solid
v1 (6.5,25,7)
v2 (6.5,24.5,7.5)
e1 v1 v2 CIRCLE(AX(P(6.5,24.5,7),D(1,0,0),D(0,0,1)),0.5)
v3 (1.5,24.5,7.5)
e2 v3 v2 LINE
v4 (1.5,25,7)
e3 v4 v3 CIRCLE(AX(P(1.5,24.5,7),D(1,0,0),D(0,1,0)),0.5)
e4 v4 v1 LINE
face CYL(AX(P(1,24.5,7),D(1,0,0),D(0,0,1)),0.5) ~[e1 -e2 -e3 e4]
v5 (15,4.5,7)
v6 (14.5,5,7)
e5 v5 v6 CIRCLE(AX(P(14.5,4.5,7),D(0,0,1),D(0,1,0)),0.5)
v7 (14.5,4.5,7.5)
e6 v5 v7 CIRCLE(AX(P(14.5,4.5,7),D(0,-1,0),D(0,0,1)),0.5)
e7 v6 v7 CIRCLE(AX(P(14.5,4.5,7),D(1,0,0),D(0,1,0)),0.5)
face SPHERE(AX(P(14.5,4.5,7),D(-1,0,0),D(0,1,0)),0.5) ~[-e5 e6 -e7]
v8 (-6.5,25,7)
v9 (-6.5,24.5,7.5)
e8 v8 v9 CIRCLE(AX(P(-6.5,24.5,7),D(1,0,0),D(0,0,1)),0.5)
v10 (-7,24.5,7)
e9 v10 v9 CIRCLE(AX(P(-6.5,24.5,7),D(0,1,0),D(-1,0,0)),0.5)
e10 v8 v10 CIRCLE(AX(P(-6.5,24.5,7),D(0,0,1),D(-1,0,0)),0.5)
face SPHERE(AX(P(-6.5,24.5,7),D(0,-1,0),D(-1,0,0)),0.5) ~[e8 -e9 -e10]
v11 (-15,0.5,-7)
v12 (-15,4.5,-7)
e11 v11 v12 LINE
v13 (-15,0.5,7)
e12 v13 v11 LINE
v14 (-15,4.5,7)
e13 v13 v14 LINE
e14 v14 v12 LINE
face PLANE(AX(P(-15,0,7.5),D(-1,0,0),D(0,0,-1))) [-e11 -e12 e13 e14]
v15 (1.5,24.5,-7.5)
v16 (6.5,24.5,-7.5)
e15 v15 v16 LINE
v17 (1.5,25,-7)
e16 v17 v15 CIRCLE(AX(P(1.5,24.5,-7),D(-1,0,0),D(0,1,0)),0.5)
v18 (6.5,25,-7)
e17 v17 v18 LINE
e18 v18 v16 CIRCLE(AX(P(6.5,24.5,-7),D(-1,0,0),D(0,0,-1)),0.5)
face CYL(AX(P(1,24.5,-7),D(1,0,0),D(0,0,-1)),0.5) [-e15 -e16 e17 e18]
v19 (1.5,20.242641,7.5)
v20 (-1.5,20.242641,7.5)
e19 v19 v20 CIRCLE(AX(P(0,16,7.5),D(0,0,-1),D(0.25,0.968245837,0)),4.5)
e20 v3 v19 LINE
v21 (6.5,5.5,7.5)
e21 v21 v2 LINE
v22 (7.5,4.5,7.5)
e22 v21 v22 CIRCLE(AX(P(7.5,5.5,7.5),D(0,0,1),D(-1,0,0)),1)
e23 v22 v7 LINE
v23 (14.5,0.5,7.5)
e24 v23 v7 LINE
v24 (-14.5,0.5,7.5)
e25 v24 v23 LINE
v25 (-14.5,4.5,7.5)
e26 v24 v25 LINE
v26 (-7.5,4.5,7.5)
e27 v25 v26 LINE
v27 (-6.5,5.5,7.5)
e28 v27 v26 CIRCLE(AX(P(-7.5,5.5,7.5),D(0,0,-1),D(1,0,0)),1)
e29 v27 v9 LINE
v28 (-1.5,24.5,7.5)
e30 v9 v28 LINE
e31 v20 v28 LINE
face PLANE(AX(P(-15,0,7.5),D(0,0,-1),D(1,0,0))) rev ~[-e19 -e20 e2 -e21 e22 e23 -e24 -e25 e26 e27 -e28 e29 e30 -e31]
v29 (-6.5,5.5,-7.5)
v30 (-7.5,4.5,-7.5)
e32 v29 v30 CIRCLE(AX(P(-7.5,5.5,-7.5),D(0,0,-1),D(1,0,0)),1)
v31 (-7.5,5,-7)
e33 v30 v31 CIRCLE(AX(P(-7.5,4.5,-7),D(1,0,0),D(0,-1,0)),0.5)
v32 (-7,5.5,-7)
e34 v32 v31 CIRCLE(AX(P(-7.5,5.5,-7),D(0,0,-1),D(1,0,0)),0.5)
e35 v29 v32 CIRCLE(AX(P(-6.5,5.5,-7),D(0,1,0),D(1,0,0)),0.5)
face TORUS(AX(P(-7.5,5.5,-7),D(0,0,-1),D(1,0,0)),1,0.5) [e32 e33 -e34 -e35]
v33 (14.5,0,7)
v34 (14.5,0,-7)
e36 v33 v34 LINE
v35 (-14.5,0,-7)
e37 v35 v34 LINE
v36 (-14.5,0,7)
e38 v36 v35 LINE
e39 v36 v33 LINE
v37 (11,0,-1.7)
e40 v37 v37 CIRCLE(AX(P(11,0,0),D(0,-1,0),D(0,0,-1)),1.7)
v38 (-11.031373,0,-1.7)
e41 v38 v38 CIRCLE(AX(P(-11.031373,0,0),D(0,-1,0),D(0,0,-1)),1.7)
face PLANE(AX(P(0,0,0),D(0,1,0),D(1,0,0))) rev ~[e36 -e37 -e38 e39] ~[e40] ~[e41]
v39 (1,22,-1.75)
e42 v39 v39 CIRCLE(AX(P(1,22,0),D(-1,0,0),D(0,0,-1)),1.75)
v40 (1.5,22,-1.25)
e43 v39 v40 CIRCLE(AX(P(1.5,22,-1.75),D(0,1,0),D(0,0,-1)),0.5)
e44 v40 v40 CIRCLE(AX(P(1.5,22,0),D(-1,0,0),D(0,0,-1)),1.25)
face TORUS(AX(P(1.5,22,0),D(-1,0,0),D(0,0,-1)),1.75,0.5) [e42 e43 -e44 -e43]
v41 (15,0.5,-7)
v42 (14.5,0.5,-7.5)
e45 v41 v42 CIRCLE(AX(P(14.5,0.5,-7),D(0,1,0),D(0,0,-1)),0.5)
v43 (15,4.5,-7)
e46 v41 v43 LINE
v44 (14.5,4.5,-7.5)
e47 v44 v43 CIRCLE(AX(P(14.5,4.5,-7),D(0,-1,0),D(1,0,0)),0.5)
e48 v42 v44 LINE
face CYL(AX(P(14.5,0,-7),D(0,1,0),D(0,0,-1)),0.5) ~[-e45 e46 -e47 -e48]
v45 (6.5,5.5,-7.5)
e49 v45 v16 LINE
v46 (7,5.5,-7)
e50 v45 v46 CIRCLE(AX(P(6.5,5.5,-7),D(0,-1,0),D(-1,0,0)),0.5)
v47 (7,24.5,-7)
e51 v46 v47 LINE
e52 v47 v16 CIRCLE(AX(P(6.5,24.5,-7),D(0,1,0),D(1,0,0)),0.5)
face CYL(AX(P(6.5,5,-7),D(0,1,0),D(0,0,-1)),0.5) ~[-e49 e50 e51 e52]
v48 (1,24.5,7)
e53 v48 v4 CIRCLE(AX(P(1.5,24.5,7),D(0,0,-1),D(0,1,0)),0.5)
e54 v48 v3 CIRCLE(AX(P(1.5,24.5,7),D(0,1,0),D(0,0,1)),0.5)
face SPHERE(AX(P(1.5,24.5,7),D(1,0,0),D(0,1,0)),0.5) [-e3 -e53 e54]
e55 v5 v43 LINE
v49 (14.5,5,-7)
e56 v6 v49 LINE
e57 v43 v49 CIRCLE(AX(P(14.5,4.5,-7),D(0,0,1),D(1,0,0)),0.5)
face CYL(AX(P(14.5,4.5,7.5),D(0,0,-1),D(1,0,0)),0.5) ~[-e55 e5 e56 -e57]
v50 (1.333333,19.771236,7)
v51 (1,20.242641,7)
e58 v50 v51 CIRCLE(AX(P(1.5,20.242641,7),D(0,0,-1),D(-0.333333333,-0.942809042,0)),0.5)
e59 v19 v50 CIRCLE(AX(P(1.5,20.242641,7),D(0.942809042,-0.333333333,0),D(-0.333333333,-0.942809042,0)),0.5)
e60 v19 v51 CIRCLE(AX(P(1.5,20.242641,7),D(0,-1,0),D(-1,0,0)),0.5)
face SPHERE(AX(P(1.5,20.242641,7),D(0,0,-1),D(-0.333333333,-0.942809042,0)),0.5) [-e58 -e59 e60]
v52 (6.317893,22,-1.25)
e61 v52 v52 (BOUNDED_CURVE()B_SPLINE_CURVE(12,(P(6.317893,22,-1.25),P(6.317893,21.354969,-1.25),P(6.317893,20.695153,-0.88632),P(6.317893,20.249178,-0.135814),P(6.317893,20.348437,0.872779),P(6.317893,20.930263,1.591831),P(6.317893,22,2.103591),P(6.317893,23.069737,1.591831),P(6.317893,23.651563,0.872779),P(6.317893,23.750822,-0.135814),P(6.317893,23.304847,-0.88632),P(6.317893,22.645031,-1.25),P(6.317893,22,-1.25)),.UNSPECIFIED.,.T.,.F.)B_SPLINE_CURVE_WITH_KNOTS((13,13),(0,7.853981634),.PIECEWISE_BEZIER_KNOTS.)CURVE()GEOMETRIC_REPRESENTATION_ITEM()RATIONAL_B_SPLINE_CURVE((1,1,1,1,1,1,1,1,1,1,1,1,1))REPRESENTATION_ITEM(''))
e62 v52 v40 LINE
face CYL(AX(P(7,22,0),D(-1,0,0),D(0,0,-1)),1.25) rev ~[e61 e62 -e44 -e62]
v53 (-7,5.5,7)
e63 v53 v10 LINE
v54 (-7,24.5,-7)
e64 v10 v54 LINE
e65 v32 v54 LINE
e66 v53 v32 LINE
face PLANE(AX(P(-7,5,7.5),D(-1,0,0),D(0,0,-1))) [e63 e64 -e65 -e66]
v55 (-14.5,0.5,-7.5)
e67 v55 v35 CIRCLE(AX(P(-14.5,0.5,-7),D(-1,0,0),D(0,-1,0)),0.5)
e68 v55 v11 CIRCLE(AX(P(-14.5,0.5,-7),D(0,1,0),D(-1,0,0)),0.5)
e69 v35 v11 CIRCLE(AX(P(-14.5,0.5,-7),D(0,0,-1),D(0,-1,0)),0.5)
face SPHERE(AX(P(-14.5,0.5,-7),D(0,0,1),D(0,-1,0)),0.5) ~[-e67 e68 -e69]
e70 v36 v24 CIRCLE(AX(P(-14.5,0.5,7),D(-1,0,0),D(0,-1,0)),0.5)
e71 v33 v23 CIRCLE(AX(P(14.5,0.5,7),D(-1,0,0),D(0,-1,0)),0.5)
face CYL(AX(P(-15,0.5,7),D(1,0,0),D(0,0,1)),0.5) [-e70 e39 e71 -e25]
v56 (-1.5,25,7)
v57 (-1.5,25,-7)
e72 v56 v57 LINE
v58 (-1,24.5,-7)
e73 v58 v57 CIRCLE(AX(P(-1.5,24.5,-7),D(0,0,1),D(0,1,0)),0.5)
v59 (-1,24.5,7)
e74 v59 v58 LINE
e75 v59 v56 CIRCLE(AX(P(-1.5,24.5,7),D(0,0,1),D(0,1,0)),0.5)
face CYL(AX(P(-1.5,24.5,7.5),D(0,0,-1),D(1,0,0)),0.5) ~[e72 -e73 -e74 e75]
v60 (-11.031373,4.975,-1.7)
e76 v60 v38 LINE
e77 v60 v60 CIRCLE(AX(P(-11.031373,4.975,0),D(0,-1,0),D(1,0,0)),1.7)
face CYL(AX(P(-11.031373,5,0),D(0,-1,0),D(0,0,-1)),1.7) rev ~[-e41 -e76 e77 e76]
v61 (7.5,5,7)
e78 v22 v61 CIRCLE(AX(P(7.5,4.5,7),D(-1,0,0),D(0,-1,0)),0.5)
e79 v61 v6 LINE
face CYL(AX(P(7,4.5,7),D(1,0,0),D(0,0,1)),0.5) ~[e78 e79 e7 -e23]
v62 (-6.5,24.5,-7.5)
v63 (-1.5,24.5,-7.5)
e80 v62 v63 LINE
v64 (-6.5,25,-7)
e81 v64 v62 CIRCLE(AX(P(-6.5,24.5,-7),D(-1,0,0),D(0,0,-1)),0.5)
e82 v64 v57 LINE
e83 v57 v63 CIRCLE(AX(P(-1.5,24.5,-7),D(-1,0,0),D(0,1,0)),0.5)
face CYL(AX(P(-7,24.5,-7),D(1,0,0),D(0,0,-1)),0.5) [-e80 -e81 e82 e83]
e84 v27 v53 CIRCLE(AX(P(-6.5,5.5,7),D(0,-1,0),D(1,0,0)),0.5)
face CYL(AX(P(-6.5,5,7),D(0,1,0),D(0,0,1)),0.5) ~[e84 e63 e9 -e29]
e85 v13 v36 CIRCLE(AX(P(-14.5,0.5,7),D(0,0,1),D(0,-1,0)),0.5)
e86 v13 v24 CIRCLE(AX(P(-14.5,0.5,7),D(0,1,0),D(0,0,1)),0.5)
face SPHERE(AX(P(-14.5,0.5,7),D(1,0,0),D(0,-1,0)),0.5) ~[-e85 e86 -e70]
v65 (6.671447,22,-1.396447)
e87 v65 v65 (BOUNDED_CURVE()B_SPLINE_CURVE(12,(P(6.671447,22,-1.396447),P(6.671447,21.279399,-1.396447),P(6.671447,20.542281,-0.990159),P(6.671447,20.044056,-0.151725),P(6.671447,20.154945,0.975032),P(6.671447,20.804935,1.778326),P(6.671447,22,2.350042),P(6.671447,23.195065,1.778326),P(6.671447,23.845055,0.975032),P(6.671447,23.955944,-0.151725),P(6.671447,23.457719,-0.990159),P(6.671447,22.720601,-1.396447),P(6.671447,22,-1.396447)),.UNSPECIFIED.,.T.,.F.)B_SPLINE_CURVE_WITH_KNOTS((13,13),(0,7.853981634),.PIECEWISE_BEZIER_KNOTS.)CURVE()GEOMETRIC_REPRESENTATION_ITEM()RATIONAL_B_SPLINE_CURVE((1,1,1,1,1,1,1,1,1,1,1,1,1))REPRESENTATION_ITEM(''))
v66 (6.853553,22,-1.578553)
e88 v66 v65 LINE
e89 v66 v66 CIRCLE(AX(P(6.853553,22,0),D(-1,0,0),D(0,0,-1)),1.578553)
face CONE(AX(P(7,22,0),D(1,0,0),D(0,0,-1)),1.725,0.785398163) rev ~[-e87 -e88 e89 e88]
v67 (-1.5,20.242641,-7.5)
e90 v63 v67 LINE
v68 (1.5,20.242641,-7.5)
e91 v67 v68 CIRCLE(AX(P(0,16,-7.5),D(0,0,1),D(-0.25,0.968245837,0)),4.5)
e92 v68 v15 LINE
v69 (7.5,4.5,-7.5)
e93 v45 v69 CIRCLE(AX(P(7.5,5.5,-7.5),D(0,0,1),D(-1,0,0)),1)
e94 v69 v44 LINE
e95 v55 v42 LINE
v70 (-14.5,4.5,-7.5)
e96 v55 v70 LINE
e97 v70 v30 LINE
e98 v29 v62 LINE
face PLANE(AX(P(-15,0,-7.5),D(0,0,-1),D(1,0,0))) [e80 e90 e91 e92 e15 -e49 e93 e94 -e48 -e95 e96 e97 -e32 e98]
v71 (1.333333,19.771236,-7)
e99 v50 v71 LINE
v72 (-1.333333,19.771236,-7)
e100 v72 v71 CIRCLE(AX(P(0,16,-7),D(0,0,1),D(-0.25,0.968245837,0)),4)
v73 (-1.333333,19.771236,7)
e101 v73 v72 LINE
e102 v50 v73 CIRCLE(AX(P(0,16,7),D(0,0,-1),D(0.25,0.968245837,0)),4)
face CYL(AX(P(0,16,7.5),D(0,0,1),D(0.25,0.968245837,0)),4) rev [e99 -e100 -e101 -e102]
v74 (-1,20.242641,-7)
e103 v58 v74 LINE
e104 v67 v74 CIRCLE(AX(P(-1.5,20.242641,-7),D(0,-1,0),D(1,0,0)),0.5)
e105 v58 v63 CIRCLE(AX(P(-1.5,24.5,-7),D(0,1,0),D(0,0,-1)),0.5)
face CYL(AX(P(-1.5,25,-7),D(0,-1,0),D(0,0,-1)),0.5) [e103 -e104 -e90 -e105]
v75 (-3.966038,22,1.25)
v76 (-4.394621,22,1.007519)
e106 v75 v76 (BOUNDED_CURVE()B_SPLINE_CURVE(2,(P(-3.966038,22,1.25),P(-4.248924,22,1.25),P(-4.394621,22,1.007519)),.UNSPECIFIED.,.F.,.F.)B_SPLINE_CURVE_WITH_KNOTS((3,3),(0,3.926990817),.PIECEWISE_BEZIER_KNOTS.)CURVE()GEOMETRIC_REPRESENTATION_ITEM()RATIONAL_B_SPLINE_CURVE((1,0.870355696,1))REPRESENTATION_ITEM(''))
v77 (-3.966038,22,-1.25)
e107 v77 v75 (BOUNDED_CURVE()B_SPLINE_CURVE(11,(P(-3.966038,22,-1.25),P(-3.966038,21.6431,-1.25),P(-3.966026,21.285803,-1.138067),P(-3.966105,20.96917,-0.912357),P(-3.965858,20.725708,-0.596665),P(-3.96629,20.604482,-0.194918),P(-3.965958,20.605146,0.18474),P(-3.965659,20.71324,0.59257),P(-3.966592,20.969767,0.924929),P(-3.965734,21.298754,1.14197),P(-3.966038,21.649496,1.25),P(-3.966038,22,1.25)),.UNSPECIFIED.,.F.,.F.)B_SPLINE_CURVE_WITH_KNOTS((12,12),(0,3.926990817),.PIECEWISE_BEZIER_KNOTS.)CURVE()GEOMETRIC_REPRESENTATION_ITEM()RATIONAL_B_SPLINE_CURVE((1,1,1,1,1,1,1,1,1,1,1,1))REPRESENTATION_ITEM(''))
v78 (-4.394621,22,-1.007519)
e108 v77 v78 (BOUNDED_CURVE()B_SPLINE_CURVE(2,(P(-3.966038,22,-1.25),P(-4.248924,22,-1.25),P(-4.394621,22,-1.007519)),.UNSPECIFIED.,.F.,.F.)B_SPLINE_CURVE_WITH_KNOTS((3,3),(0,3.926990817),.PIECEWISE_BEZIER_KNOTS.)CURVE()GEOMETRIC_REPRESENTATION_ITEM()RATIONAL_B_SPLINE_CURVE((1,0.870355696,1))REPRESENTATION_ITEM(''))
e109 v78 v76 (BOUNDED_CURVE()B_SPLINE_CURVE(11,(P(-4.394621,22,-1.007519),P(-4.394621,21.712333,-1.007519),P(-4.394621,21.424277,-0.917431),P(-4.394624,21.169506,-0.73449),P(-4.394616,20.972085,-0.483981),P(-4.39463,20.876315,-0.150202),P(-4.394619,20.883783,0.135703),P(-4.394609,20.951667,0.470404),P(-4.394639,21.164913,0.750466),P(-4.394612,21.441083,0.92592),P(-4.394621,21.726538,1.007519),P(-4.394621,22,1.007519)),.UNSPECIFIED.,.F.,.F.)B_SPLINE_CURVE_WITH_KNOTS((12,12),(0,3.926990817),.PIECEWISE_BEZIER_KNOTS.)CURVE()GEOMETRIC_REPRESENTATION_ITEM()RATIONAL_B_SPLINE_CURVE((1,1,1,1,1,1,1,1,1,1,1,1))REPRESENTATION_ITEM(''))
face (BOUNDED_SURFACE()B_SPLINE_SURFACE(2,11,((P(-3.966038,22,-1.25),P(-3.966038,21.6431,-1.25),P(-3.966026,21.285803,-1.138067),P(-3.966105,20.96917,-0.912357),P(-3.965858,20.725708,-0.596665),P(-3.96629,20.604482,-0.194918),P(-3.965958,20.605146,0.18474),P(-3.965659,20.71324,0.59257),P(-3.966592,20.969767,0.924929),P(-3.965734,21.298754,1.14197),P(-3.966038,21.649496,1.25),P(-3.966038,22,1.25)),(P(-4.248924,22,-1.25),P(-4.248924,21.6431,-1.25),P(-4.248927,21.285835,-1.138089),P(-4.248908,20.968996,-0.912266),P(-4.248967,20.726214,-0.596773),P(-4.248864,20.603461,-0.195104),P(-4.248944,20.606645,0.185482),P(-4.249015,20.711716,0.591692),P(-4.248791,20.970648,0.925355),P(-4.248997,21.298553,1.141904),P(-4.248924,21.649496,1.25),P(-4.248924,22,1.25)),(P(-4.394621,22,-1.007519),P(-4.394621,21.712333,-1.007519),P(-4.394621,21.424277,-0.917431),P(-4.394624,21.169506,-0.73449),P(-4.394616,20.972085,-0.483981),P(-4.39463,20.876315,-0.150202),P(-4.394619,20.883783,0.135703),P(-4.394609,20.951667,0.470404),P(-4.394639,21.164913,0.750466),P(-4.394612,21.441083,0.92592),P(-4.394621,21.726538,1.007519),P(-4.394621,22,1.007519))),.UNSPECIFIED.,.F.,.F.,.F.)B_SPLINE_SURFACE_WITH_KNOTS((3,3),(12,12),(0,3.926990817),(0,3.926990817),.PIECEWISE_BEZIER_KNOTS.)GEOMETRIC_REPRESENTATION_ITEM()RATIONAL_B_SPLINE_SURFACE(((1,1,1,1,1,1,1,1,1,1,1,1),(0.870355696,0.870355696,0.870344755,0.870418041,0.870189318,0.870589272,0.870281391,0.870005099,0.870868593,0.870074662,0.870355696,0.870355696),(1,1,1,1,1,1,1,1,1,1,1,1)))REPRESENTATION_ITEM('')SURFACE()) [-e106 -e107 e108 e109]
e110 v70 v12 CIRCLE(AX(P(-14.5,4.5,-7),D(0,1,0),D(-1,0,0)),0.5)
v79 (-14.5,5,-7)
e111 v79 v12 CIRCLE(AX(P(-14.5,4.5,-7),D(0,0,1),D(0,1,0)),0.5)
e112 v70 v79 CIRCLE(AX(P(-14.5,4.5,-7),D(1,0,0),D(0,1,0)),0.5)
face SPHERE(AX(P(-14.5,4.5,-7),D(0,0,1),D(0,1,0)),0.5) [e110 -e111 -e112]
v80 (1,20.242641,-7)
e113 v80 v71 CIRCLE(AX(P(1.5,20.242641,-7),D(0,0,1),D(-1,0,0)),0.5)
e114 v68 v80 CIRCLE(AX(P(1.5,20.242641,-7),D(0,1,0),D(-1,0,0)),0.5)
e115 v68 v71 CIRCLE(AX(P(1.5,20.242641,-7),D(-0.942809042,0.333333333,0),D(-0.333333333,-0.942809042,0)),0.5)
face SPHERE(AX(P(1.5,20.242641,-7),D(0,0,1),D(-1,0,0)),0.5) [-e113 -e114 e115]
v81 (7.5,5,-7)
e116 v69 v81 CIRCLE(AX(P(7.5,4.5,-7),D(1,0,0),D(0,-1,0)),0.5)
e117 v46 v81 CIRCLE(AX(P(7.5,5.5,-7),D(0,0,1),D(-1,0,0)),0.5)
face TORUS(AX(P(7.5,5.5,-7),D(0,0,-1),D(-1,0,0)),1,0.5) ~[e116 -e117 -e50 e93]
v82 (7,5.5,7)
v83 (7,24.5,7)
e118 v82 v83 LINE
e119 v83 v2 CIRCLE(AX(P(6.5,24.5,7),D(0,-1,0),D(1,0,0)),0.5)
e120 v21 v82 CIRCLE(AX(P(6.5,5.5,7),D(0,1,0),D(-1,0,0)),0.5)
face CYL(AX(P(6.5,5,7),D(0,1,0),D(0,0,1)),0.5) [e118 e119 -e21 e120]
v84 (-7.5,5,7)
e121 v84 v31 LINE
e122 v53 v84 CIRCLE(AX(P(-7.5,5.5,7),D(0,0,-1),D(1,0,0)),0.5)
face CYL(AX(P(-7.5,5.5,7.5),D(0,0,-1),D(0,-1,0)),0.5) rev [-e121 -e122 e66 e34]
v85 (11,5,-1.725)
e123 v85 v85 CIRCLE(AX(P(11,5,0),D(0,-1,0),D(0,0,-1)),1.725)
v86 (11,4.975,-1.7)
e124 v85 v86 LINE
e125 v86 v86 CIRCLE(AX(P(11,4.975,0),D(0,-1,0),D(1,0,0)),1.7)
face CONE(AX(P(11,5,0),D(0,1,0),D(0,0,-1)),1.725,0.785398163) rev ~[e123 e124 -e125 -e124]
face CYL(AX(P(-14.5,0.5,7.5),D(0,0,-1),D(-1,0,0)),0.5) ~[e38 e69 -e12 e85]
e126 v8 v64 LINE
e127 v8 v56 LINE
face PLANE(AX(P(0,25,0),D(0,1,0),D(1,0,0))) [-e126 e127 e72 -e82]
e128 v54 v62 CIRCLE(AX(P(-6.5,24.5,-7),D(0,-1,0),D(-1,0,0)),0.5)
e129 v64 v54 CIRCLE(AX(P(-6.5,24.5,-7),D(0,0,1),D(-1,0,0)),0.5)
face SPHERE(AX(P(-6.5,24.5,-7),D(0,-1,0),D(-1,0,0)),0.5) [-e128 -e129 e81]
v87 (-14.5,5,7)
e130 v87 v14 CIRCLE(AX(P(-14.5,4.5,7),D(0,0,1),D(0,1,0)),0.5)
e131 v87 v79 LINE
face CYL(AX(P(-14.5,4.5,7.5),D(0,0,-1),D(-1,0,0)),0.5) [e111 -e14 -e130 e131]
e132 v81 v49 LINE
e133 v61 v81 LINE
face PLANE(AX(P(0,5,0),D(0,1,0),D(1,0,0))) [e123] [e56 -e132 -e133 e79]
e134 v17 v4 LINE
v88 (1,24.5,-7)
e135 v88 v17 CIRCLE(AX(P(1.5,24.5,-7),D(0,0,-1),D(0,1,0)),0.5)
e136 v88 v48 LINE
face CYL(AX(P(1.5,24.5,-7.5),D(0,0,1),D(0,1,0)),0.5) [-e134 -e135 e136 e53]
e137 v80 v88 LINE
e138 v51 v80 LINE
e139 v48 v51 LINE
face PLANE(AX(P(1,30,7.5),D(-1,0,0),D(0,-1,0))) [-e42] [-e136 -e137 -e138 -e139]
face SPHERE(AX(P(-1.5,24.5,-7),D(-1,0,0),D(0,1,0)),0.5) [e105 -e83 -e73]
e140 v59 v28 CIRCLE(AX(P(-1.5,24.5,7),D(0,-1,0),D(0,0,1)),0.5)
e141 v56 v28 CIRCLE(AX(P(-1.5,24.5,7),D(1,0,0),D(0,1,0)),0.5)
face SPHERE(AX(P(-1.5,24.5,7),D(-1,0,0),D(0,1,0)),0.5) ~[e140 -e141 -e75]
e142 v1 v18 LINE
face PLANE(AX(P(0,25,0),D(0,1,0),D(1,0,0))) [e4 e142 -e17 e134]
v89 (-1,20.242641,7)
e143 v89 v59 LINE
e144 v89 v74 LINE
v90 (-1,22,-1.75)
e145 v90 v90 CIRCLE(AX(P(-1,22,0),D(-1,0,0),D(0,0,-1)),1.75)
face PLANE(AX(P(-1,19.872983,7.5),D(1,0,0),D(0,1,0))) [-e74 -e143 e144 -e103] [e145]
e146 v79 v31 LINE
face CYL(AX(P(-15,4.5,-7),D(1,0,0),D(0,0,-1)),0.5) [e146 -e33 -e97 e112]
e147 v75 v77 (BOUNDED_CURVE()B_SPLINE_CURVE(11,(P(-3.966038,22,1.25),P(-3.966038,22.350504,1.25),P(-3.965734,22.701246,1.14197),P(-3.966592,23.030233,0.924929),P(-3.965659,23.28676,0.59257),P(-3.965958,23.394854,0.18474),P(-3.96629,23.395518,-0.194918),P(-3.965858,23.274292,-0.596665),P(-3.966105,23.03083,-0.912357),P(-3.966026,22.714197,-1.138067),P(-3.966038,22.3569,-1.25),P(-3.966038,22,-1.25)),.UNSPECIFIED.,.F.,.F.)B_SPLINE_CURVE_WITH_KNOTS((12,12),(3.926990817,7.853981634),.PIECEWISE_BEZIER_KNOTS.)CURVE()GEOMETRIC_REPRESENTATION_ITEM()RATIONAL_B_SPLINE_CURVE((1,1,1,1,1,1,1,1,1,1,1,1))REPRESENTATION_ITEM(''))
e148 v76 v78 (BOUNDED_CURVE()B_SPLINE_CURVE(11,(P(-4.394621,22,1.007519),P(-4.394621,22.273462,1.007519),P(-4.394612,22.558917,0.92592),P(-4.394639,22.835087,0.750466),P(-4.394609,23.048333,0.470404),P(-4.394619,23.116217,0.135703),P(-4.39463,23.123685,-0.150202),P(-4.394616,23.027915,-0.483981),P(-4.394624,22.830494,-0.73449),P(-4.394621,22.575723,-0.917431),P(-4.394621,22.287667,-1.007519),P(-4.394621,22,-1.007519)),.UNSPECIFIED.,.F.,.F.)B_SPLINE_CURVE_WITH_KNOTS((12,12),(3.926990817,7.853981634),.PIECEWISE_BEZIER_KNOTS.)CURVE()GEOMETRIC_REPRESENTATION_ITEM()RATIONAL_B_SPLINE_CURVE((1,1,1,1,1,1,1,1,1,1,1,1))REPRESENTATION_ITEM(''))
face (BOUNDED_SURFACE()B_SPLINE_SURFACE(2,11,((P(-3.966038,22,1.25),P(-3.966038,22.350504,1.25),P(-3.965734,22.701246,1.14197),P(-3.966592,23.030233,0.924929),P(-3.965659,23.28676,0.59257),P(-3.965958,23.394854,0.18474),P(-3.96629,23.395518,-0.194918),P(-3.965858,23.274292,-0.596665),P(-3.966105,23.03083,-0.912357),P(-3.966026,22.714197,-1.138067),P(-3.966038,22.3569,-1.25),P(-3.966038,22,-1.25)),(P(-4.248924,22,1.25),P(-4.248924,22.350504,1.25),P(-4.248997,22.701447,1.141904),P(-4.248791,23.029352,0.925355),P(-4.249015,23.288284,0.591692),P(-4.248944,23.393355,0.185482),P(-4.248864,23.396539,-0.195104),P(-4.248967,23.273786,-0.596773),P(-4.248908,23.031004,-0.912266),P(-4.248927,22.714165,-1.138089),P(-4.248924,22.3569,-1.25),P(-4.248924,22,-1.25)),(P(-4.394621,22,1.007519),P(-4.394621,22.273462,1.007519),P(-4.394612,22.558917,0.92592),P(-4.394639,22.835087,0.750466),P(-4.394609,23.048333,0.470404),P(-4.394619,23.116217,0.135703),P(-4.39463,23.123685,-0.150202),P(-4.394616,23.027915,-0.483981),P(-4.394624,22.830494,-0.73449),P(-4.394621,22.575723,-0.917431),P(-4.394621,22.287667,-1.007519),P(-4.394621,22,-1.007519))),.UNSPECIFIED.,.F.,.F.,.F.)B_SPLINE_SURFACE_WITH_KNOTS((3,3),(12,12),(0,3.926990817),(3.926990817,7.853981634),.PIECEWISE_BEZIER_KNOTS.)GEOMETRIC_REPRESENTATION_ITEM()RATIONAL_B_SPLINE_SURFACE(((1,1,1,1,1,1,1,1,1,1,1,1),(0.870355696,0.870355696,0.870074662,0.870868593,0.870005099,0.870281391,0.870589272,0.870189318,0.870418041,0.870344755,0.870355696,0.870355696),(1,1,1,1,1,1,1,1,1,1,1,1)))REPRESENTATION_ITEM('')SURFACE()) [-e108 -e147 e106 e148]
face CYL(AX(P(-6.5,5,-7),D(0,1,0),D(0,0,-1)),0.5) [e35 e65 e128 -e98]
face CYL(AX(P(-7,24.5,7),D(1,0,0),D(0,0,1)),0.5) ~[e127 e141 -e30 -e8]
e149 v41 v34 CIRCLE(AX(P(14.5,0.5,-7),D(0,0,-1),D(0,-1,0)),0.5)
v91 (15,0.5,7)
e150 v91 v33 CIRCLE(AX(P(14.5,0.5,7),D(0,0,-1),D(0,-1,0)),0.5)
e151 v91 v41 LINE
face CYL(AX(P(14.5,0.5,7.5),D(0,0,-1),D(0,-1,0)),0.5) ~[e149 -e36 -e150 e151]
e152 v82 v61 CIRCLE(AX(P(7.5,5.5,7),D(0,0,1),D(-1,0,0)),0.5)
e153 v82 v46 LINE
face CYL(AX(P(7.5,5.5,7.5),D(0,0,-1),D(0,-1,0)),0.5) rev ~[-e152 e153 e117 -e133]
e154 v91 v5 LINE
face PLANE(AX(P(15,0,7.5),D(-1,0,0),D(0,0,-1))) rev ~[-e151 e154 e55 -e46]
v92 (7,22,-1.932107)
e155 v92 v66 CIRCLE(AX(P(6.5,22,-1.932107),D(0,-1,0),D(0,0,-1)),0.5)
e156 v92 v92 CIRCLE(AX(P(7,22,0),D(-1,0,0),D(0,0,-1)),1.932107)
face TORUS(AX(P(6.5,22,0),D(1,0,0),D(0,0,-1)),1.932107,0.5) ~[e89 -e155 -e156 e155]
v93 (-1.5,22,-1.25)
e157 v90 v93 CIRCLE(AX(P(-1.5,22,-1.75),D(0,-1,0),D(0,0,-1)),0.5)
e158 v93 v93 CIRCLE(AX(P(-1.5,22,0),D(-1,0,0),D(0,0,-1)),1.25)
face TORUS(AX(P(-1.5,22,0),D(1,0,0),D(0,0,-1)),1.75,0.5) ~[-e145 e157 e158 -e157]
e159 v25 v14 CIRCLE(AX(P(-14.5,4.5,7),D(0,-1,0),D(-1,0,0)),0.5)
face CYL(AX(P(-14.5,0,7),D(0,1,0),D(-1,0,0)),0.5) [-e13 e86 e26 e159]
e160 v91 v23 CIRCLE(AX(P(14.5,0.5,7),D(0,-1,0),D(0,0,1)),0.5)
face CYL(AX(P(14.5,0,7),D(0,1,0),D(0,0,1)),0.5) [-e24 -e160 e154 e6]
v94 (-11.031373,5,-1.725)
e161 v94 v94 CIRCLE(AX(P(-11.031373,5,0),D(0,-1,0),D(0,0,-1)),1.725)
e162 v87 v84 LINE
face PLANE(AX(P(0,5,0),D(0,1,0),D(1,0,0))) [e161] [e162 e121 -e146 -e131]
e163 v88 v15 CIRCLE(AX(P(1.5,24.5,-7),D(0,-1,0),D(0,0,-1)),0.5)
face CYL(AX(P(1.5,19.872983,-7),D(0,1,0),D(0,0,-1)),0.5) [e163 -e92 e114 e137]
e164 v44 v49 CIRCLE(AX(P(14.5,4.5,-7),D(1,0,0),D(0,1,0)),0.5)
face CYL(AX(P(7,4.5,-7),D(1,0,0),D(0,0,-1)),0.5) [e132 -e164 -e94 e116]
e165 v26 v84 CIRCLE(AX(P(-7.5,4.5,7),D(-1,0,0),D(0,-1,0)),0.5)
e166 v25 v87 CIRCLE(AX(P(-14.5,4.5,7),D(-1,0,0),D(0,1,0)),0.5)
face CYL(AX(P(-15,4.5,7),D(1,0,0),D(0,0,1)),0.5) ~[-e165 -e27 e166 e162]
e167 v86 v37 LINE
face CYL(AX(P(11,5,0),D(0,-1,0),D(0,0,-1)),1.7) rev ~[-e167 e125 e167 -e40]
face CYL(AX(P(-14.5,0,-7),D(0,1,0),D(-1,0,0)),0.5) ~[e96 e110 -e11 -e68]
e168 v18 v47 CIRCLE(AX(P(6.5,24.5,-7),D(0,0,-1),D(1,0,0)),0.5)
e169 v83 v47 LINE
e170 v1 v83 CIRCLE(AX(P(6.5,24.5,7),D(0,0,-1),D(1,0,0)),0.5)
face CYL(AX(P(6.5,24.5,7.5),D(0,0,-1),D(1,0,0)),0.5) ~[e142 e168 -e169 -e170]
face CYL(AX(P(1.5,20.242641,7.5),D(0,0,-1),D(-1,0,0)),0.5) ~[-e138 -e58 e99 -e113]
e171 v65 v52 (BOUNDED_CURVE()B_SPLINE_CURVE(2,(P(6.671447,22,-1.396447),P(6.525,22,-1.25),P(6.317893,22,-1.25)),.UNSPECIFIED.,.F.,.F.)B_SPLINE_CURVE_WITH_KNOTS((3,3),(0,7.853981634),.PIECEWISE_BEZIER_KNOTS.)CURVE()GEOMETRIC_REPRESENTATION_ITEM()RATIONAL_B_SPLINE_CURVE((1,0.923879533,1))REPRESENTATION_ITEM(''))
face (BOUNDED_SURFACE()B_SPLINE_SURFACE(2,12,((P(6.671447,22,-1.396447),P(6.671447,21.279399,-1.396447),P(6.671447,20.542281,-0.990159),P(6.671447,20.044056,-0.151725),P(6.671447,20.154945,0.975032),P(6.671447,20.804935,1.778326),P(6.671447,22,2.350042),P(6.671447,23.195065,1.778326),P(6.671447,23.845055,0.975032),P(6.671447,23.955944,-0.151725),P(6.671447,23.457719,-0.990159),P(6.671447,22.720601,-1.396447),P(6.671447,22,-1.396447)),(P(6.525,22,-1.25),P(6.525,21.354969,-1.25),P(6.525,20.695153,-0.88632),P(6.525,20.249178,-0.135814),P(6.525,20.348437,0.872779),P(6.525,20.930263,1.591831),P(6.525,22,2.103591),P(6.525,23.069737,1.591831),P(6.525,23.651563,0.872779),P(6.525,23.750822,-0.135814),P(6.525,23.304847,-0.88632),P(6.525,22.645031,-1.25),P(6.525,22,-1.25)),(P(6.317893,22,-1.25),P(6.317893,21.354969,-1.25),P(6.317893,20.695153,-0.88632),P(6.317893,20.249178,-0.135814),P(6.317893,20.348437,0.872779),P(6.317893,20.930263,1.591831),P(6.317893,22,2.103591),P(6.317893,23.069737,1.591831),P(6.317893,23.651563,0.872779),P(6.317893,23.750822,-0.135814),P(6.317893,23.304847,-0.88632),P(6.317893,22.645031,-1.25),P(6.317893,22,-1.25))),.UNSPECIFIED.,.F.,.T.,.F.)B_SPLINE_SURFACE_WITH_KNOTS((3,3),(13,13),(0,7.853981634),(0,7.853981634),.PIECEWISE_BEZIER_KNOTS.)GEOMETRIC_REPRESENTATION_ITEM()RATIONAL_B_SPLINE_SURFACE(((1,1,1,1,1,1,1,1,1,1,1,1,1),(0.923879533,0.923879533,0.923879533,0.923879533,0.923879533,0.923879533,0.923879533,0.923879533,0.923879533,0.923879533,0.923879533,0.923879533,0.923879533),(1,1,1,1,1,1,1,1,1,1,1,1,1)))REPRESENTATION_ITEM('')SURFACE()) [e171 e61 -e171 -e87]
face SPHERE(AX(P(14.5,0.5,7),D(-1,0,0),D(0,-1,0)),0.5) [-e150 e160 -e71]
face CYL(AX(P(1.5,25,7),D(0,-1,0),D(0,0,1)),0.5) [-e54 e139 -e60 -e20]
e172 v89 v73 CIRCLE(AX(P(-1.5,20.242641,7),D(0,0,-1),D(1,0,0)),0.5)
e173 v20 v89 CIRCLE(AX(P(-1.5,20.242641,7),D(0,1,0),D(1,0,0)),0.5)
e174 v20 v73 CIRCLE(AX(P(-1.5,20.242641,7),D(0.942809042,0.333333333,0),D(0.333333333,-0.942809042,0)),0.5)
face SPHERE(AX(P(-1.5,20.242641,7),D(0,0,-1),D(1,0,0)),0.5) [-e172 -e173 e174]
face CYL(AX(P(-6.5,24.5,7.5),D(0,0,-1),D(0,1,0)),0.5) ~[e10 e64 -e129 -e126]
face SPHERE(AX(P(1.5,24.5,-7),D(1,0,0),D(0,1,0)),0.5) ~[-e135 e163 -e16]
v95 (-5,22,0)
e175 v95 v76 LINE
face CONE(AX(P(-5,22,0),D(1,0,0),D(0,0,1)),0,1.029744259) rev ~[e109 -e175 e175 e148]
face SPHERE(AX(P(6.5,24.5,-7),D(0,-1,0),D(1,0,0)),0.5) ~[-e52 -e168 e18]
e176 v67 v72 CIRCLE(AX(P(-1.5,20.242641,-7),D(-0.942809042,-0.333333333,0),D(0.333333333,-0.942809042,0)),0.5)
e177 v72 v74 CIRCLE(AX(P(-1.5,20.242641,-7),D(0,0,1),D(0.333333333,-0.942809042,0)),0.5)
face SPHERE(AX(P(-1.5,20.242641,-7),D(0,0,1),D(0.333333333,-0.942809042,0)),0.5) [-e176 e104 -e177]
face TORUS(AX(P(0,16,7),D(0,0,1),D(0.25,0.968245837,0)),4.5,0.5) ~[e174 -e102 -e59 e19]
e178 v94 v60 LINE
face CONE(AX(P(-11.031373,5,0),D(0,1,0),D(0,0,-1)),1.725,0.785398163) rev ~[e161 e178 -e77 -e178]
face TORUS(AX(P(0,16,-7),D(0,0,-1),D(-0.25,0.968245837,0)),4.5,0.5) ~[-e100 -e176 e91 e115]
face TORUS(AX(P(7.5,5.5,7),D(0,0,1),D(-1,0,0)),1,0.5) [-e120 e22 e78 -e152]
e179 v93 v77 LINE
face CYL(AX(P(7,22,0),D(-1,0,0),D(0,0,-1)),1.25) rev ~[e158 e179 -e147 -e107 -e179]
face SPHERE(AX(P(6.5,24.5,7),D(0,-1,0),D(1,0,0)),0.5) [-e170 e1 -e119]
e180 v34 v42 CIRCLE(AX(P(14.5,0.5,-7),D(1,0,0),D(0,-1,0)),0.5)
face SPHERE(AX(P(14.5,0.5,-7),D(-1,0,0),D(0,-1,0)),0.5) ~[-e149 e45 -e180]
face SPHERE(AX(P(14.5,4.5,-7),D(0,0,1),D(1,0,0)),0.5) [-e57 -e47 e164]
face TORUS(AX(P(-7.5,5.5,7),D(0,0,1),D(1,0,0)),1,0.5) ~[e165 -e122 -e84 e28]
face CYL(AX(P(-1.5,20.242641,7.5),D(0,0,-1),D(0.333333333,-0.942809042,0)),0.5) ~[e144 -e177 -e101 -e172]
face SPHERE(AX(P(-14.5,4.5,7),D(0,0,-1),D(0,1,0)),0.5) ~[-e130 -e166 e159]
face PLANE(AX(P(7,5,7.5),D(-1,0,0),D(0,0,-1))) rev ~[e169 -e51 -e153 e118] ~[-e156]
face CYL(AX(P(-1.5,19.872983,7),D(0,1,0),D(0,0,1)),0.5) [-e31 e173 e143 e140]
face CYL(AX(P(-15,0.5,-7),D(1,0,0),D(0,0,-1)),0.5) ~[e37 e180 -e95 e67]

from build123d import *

# Parameters (mm, degrees)
SKETCH1_W                      = 30
SKETCH1_H                      = 15
BOSS_EXTRUDE1_DEPTH            = 5
SKETCH2_W                      = 14
SKETCH2_H                      = 15
BOSS_EXTRUDE2_DEPTH            = 20
CUT_EXTRUDE1_DEPTH             = 33.787192622
M3_TAPPED_HOLE1_D              = 2.5
M3_TAPPED_HOLE1_DEPTH          = 11.248924226
M3_TAPPED_HOLE1_CSINK_D        = 3.45
M3_TAPPED_HOLE1_CSINK_ANGLE    = 90
M3_TAPPED_HOLE1_TIP            = 0.751075774
FILLET1_R                      = 0.5
M3_CLEARANCE_HOLE1_D           = 3.4
M3_CLEARANCE_HOLE1_CSINK_D     = 3.45
M3_CLEARANCE_HOLE1_CSINK_ANGLE = 90


with BuildPart() as part:
    # Sketch1 → Boss-Extrude1 (new body)
    with BuildSketch(Plane(origin=(0, 0, 0), x_dir=(1, 0, 0), z_dir=(0, 1, 0))):
        Rectangle(SKETCH1_W, SKETCH1_H)
    extrude(amount=BOSS_EXTRUDE1_DEPTH)

    # Sketch2 → Boss-Extrude2 (add)
    with BuildSketch(Plane(origin=(0, 5, 0), x_dir=(1, 0, 0), z_dir=(0, 1, 0))):
        Rectangle(SKETCH2_W, SKETCH2_H)
    extrude(amount=BOSS_EXTRUDE2_DEPTH)

    # Sketch3 → Cut-Extrude1 (cut, through all)
    with BuildSketch(Plane.XY.offset(7.5)):
        with BuildLine():
            Line((-1, 30), (1, 30))
            Line((1, 30), (1, 19.872983346))
            ThreePointArc((1, 19.872983346), (0, 12), (-1, 19.872983346))
            Line((-1, 19.872983346), (-1, 30))
        make_face()
    extrude(amount=-CUT_EXTRUDE1_DEPTH, mode=Mode.SUBTRACT)

    # M3 Tapped Hole1
    with Locations(Plane(origin=(7, 22, 0), x_dir=(0, 0, 1), z_dir=(1, 0, 0))):
        with Locations((0, 0)):
            CounterSinkHole(M3_TAPPED_HOLE1_D / 2, M3_TAPPED_HOLE1_CSINK_D / 2, depth=M3_TAPPED_HOLE1_DEPTH, counter_sink_angle=M3_TAPPED_HOLE1_CSINK_ANGLE)
            with Locations((0, 0, -(M3_TAPPED_HOLE1_DEPTH + M3_TAPPED_HOLE1_TIP / 2))):  # 118° drill point
                Cone(0, M3_TAPPED_HOLE1_D / 2, M3_TAPPED_HOLE1_TIP, mode=Mode.SUBTRACT)

    # Fillet1
    fillet1_edges = [part.edges().sort_by_distance(p)[0] for p in [
        (-15, 5, 0),
        (-11, 5, -7.5),
        (11, 5, 7.5),
        (-11, 5, 7.5),
        (7, 5, 0),
        (7, 15, 7.5),
        (7, 15, -7.5),
        (-7, 5, 0),
        (-7, 15, -7.5),
        (-7, 15, 7.5),
        (7, 25, 0),
        (4, 25, -7.5),
        (-7, 25, 0),
        (-4, 25, 7.5),
        (-4, 25, -7.5),
        (4, 25, 7.5),
        (1, 25, 0),
        (-1, 25, 0),
        (-1, 22.436491673, -7.5),
        (-1, 19.872983346, 0),
        (1, 22.436491673, -7.5),
        (0, 12, -7.5),
        (1, 19.872983346, 0),
        (-1, 22.436491673, 7.5),
        (0, 12, 7.5),
        (1, 22.436491673, 7.5),
        (15, 5, 0),
        (0, 0, 7.5),
        (1, 22, 1.25),
        (-4.248924226, 20.75, 0),
        (-1, 22, 1.25),
        (7, 22, 1.725),
        (6.525, 22, 1.25),
        (-15, 0, 0),
        (0, 0, -7.5),
        (15, 0, 0),
        (15, 2.5, 7.5),
        (-15, 2.5, 7.5),
        (-15, 2.5, -7.5),
        (15, 2.5, -7.5),
        (11, 5, -7.5),
    ]]
    fillet(fillet1_edges, radius=FILLET1_R)

    # M3 Clearance Hole1 (through all)
    with Locations(Plane(origin=(11, 5, 0), x_dir=(0, 0, 1), z_dir=(0, 1, 0))):
        with Locations((0, 0), (0, -22.031373033)):
            CounterSinkHole(M3_CLEARANCE_HOLE1_D / 2, M3_CLEARANCE_HOLE1_CSINK_D / 2, counter_sink_angle=M3_CLEARANCE_HOLE1_CSINK_ANGLE)


solid = part.part
